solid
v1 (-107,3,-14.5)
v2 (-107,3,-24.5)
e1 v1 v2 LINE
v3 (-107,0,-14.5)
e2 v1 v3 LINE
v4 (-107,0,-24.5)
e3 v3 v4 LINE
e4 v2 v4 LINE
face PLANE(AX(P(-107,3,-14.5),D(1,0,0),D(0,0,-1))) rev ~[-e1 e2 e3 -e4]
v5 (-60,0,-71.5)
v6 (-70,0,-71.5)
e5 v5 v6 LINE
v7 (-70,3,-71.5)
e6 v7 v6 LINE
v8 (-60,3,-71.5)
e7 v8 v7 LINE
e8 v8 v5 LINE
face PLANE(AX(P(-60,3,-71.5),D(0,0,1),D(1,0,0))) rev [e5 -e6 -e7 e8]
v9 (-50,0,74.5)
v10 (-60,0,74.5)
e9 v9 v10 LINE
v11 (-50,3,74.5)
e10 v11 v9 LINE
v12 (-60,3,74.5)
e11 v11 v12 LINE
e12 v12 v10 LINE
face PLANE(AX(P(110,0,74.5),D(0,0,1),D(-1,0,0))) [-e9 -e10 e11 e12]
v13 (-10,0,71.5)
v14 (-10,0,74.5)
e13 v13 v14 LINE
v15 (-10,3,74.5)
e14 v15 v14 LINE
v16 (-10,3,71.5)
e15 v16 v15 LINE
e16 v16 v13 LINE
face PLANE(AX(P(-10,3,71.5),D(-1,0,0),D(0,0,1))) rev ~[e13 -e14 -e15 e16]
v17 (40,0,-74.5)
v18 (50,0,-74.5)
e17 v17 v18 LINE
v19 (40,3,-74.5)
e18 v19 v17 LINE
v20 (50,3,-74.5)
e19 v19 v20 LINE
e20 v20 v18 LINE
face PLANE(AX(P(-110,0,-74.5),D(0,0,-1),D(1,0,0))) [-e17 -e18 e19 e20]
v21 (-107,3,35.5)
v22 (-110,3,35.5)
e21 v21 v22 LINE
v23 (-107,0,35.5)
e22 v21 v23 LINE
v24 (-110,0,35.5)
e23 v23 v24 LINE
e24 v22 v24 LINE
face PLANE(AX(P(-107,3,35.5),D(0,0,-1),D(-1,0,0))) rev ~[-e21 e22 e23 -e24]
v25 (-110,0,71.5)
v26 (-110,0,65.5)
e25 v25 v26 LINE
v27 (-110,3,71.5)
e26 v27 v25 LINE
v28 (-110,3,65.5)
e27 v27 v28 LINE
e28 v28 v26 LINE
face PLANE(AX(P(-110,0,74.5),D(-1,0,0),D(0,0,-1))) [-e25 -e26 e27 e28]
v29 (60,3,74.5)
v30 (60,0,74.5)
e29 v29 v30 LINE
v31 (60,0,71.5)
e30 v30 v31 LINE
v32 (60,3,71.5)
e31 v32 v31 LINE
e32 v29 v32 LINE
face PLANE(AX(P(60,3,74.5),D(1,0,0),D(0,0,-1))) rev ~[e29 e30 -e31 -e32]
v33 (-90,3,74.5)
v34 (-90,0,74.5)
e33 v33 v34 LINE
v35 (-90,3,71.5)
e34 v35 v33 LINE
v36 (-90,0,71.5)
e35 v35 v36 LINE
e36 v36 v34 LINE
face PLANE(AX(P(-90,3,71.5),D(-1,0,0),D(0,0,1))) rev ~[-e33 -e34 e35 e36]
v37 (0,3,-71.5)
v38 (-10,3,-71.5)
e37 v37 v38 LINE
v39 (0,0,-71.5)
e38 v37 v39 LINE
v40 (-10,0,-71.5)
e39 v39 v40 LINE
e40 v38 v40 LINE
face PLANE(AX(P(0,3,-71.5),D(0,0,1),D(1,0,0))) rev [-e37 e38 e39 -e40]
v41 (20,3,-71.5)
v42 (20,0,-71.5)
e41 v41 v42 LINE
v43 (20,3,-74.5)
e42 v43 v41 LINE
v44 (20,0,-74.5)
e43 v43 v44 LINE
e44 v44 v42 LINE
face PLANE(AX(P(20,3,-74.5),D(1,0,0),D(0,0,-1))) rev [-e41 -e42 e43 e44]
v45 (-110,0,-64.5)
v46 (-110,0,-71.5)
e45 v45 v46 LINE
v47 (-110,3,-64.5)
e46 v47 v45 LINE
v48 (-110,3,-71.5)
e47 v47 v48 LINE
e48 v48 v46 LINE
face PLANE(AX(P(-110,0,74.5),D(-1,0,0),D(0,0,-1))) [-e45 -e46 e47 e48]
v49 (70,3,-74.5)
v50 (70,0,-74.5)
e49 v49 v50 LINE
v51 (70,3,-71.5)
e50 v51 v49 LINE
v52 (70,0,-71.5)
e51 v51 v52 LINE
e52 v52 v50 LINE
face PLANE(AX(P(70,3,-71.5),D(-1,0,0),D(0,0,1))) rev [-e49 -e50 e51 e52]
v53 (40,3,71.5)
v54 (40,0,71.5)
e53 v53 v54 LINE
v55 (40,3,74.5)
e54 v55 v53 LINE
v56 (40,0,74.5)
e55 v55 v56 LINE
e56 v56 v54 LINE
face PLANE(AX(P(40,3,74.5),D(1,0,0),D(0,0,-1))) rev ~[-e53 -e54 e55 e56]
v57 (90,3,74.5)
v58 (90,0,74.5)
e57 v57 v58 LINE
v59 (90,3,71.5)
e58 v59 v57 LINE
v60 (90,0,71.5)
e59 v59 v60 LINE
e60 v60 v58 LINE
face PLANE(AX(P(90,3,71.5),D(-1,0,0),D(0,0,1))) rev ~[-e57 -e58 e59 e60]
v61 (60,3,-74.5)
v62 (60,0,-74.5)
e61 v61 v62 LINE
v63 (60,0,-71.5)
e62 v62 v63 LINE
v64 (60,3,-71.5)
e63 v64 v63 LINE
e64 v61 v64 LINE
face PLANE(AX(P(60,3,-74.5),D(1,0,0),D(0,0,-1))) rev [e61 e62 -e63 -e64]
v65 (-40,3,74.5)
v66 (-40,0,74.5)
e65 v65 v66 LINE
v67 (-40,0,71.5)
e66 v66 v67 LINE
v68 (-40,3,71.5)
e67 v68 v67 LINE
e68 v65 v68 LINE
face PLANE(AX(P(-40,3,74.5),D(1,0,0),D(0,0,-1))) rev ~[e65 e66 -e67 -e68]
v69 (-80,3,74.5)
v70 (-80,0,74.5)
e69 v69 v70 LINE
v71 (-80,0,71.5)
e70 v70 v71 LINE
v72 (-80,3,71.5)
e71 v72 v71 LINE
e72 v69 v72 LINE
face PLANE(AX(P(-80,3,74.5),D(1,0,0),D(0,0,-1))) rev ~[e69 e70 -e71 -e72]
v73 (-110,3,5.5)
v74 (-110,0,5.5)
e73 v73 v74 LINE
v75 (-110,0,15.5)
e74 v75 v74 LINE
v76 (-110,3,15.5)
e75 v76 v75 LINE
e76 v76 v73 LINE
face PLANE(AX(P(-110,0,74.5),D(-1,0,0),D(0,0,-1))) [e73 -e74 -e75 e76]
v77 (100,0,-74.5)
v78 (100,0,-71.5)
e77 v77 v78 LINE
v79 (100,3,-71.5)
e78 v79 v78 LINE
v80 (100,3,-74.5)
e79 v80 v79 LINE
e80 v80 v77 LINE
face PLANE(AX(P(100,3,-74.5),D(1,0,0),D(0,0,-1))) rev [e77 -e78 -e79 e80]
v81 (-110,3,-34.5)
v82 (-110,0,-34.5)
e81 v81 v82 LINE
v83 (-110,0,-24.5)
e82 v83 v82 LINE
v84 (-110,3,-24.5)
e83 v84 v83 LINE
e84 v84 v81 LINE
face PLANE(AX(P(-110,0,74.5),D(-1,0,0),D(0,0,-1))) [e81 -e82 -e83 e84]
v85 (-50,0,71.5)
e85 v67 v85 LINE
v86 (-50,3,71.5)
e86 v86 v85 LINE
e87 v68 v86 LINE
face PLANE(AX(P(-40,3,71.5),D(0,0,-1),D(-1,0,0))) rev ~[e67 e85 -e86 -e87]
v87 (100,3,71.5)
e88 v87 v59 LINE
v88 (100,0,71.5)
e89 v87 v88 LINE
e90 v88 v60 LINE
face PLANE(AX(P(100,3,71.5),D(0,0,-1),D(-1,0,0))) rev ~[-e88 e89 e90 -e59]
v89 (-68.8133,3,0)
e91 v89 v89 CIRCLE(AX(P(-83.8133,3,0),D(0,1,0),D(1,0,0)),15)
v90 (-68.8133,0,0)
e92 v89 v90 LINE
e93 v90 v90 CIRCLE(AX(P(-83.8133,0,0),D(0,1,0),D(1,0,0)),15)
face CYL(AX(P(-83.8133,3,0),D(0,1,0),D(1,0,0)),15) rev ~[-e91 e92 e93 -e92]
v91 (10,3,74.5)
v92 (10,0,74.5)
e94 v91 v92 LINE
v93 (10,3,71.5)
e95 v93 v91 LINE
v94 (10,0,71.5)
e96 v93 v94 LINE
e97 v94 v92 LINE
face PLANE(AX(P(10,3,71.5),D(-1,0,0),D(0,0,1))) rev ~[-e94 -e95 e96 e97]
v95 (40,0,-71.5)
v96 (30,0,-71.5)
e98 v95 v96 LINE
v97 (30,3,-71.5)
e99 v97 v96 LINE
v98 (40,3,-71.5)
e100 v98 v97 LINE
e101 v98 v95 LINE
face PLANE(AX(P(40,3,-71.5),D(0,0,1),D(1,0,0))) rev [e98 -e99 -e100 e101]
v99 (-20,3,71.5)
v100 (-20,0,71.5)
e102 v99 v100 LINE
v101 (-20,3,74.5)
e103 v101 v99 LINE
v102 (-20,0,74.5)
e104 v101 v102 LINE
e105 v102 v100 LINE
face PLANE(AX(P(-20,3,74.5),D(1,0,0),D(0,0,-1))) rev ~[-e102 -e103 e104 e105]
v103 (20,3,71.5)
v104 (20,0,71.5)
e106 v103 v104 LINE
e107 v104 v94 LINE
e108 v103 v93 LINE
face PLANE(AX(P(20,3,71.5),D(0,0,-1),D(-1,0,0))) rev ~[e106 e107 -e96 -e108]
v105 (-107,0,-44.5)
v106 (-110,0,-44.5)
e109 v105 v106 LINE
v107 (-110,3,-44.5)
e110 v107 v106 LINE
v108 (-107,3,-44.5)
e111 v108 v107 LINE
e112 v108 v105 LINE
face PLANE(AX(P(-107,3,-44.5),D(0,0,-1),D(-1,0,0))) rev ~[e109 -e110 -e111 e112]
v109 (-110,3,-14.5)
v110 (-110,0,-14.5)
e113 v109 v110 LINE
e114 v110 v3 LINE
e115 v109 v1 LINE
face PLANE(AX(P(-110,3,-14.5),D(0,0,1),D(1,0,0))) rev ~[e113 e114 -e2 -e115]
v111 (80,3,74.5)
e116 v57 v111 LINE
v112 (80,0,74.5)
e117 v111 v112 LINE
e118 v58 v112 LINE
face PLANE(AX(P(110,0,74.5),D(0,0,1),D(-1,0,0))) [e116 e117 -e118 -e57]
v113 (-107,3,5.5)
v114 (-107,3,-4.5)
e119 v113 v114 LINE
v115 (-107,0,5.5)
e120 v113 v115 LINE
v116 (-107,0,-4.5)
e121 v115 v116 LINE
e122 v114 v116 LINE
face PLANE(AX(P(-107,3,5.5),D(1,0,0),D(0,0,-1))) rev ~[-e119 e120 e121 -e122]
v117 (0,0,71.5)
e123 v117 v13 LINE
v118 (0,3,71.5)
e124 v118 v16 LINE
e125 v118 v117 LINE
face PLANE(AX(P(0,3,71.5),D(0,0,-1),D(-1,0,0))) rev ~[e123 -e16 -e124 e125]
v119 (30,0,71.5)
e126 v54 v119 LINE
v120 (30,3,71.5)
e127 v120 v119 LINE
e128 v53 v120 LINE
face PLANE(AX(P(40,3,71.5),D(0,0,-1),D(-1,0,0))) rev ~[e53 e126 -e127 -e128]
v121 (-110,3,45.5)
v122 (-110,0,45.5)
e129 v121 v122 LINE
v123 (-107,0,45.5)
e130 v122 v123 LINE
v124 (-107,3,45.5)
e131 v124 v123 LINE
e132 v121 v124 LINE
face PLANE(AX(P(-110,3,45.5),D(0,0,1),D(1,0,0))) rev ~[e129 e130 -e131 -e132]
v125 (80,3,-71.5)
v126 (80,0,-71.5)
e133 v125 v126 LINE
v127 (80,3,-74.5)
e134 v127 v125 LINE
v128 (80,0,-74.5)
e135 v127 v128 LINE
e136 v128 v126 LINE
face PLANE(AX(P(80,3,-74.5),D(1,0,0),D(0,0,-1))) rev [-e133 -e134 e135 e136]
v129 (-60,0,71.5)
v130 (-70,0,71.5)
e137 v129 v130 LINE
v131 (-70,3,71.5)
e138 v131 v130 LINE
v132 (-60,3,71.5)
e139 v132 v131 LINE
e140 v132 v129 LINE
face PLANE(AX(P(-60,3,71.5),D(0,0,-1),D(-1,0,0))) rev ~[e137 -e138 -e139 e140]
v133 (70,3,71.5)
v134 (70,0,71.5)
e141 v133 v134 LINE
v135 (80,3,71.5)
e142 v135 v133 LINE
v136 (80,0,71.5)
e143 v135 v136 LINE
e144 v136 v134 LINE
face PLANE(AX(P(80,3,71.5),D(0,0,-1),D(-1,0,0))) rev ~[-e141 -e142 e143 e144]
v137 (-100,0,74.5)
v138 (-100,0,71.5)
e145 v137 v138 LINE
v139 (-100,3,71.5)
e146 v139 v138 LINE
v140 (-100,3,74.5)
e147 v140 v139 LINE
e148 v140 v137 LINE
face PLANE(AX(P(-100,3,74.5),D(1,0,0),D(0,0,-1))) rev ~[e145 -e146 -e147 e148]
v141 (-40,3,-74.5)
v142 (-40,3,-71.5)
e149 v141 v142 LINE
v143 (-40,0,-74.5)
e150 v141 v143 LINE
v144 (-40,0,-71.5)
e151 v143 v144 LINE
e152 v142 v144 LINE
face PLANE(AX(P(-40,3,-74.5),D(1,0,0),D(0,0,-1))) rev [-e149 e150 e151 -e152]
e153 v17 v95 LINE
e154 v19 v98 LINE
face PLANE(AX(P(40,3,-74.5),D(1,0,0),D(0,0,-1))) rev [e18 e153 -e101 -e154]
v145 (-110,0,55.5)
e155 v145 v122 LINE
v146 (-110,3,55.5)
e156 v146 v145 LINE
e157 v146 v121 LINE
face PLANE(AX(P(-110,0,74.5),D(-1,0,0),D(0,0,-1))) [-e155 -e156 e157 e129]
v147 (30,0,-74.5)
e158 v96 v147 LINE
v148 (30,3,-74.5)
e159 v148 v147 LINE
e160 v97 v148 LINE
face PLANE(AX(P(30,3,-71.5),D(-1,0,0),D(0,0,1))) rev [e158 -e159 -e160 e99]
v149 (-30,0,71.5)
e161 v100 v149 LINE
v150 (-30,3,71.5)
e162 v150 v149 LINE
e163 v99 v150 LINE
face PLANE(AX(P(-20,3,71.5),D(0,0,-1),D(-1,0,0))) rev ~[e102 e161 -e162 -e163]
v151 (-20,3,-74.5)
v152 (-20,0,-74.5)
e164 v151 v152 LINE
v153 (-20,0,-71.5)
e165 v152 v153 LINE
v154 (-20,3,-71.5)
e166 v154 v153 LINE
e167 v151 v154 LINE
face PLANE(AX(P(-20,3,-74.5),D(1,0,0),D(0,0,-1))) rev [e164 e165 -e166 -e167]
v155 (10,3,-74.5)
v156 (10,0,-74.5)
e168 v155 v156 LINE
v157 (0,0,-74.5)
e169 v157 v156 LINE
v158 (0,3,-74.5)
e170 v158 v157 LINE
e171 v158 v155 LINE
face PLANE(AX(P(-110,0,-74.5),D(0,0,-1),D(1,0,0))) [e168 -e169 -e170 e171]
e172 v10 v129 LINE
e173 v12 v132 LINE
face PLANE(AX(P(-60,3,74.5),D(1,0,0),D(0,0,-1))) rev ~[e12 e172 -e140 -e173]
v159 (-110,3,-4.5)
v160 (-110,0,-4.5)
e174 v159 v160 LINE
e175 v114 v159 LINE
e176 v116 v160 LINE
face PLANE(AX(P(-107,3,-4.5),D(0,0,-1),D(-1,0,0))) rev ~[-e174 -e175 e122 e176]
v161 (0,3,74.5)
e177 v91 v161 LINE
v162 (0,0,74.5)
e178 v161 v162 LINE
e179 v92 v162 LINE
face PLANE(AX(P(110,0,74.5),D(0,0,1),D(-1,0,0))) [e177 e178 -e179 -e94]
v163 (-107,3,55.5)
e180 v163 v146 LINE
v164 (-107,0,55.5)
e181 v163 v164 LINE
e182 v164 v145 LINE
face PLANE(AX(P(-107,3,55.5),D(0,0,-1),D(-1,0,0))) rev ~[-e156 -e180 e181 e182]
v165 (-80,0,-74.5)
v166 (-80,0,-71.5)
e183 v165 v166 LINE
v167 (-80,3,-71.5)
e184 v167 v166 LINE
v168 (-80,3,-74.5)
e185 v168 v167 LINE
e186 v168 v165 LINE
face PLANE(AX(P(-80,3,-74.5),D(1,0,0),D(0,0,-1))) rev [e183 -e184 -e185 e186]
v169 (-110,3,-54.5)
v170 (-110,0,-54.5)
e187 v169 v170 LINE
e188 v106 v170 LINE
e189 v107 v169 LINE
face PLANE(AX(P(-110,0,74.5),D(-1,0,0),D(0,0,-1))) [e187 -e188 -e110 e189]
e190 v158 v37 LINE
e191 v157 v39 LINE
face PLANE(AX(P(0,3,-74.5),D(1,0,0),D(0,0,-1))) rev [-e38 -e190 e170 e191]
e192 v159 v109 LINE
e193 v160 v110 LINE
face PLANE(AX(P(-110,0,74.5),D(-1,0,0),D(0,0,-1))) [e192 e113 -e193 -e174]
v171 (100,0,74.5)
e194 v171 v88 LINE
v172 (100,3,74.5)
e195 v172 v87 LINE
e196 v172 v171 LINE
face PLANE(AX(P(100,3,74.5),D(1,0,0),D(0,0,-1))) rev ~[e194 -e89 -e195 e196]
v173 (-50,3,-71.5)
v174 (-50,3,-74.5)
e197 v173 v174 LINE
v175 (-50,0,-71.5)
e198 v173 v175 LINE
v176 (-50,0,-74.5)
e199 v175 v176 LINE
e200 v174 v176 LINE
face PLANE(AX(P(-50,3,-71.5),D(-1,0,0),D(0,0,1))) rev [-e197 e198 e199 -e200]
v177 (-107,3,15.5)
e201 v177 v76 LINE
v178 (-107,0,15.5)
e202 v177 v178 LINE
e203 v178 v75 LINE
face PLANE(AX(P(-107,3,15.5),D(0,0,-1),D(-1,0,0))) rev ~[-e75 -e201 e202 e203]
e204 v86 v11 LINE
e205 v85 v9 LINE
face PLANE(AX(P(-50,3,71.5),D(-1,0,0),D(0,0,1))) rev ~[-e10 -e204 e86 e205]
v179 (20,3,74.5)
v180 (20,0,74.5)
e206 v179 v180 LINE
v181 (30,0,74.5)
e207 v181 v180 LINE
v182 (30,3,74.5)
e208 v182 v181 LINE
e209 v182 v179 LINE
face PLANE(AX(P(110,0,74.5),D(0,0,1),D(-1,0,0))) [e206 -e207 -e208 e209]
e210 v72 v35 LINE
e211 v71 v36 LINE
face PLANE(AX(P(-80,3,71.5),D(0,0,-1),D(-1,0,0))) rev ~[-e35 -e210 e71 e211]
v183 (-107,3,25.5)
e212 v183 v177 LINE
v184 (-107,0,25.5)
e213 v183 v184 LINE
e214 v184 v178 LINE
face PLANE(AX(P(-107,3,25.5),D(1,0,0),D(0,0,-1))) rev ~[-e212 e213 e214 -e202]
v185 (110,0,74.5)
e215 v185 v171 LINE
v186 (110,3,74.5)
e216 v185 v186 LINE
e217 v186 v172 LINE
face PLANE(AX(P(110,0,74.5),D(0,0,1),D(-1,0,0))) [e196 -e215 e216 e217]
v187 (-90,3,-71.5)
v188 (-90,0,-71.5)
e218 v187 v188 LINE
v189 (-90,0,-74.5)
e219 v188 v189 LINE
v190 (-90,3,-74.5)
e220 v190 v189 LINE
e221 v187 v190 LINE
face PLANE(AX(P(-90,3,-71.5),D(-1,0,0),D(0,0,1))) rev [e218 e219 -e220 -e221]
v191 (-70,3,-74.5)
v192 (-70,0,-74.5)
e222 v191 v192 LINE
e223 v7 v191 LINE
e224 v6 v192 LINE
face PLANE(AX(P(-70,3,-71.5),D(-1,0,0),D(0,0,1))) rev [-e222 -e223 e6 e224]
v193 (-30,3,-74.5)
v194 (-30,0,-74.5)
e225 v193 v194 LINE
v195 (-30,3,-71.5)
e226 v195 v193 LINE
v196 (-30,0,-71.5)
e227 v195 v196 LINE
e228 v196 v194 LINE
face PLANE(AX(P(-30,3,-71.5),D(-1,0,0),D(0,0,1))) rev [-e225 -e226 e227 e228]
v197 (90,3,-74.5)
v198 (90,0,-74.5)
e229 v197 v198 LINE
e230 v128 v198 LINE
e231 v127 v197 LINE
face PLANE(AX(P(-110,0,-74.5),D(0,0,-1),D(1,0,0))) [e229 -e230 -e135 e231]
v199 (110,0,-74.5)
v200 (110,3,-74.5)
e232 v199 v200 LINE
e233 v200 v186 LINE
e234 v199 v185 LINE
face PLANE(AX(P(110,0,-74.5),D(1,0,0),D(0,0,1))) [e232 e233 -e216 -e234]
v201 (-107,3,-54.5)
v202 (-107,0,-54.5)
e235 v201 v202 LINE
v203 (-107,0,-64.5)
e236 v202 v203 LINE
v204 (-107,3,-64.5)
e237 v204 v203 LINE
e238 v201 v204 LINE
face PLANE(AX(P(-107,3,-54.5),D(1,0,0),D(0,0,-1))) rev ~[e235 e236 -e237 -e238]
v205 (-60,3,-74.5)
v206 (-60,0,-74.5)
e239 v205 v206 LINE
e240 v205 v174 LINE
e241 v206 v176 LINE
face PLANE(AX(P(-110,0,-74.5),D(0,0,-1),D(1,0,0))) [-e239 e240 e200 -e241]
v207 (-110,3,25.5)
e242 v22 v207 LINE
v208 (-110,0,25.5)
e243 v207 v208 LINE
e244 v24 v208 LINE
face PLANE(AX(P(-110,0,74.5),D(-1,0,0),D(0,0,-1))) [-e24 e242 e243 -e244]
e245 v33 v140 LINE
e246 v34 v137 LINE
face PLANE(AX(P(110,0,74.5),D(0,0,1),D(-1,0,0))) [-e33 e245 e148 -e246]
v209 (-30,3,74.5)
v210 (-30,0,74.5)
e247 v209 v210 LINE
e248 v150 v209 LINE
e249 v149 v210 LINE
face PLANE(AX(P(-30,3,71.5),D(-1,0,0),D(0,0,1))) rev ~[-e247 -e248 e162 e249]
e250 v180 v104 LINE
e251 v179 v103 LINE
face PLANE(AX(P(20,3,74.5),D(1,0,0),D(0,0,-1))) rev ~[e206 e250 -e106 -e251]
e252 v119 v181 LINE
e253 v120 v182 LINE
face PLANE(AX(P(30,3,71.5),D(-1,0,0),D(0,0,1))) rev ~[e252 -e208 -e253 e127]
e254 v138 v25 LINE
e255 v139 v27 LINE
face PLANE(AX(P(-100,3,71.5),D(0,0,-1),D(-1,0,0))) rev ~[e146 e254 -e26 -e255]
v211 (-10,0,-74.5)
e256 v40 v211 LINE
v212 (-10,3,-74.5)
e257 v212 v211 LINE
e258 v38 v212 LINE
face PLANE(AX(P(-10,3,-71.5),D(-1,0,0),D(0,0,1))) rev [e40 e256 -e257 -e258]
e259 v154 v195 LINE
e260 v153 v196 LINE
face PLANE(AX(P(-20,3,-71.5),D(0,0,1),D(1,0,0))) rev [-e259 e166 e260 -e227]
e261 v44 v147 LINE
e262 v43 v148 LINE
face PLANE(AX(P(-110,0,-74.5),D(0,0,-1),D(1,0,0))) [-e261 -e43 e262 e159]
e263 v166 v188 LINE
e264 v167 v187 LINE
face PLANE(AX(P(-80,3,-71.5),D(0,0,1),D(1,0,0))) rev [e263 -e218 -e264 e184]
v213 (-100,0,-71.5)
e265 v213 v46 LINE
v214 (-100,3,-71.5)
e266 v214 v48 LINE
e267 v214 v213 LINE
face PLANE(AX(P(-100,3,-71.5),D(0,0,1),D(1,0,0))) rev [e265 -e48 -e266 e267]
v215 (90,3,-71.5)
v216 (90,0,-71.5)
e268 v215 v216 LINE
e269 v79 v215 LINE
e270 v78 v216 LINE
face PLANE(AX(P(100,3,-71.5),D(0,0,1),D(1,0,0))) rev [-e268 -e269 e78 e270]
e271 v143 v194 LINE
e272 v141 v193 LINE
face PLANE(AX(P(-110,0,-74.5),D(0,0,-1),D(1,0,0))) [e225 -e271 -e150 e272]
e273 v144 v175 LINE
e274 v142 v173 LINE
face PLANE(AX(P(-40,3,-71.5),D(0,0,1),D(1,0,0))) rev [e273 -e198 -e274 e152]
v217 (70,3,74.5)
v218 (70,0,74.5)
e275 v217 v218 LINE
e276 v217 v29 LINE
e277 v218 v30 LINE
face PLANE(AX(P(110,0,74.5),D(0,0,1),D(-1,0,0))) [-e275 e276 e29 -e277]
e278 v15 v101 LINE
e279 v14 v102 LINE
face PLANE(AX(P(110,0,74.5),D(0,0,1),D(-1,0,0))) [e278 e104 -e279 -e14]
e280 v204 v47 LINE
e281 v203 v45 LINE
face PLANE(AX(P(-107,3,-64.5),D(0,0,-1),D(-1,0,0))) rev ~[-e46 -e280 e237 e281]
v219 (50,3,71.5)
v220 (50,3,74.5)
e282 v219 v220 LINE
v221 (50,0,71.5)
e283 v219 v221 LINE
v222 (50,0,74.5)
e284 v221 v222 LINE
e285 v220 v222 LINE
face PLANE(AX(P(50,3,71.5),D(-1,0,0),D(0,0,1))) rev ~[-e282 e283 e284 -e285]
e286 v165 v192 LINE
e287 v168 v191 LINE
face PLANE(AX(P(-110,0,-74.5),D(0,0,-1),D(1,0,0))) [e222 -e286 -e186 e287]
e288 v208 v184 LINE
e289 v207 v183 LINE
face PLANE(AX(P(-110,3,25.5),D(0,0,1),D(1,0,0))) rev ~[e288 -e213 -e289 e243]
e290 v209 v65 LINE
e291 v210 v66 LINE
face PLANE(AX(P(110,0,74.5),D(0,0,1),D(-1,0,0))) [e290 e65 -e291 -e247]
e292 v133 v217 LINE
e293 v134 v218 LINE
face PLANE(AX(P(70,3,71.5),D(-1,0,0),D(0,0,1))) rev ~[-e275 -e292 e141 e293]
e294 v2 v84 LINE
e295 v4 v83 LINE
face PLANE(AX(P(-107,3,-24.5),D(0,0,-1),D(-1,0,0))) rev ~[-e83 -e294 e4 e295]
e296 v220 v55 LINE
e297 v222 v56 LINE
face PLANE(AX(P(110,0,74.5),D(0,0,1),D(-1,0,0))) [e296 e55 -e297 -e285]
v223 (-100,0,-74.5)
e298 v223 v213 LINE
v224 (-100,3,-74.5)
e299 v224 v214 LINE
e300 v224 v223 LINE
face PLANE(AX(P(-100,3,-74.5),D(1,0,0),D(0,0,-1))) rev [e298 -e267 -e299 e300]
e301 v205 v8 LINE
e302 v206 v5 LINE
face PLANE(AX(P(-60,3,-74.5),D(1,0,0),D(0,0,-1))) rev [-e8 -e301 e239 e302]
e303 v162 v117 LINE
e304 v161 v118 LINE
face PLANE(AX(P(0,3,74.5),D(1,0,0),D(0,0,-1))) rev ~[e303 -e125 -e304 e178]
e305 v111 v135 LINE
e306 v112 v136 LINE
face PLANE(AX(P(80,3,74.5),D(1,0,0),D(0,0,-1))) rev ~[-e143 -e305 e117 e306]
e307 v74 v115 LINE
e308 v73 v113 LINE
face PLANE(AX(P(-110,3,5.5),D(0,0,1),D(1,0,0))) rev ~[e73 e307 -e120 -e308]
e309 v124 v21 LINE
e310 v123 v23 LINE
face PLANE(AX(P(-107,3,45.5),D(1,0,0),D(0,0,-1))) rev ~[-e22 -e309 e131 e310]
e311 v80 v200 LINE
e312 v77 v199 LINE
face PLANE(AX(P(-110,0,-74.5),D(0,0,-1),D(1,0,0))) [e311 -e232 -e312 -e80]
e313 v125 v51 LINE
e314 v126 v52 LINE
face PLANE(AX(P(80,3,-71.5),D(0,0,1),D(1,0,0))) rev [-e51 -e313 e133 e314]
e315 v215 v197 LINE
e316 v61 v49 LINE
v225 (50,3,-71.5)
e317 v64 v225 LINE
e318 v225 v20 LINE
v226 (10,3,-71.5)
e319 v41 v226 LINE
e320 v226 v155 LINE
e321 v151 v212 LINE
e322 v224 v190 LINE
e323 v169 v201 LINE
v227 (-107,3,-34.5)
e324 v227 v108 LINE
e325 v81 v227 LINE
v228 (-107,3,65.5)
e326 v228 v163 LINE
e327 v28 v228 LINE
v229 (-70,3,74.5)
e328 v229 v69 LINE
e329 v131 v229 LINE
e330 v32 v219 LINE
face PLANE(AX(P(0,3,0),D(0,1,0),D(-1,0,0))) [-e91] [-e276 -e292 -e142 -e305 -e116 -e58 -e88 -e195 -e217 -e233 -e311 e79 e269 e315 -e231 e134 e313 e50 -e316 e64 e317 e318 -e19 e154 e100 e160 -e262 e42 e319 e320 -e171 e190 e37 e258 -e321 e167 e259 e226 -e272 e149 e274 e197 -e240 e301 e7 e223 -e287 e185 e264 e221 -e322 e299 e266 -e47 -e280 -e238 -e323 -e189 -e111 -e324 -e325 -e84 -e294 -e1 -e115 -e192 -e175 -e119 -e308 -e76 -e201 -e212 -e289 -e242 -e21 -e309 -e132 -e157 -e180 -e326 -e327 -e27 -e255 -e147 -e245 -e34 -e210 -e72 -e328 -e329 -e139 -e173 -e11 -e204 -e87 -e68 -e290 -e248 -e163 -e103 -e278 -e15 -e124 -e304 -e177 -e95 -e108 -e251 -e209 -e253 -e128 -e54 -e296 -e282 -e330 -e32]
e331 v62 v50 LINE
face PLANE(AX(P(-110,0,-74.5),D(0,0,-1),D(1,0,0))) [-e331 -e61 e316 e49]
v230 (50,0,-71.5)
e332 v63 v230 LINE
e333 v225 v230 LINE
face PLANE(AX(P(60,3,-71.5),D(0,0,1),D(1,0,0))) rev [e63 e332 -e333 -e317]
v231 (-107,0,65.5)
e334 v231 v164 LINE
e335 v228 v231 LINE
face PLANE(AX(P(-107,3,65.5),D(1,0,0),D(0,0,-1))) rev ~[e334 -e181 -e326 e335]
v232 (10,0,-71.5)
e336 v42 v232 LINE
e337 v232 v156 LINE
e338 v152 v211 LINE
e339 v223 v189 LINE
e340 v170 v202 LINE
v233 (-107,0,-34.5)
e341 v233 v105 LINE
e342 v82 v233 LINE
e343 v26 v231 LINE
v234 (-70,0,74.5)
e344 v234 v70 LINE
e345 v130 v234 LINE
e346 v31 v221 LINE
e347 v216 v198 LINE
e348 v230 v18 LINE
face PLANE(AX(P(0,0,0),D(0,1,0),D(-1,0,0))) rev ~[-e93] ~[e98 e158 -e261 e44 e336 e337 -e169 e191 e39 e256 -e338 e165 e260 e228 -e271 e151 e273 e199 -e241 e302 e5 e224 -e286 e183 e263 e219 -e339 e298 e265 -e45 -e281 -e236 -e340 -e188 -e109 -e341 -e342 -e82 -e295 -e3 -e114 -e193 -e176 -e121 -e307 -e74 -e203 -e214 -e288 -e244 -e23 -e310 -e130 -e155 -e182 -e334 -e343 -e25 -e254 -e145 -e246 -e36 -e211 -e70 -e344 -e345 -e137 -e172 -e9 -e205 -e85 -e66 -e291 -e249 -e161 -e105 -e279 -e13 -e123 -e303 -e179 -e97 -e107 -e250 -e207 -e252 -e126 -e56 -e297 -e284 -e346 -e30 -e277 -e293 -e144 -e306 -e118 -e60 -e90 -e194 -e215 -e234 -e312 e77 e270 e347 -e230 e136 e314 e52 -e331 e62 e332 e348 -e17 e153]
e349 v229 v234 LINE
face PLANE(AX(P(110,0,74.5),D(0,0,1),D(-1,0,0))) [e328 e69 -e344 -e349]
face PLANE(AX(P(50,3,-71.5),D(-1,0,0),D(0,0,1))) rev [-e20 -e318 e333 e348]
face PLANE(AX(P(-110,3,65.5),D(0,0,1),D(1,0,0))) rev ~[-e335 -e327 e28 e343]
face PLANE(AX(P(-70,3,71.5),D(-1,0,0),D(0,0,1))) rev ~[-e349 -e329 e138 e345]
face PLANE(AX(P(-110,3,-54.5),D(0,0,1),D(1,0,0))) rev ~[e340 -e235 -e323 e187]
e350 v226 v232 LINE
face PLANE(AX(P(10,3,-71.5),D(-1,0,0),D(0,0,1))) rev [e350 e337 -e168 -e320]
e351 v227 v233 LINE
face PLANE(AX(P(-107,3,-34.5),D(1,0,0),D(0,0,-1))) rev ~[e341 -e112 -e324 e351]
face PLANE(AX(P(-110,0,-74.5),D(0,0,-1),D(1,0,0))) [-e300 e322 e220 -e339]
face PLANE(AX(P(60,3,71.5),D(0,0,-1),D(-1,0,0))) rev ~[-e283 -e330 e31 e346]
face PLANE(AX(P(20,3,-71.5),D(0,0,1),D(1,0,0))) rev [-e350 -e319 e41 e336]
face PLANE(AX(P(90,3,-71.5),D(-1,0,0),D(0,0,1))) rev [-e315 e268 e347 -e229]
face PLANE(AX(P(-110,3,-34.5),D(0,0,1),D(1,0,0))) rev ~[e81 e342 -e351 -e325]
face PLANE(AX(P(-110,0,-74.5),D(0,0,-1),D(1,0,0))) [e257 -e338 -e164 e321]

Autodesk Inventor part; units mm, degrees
ref_plane "YZ Plane" through (0, 0, 0) normal (1, 0, 0) x (0, 1, 0)
ref_plane "XZ Plane" through (0, 0, 0) normal (0, 1, 0) x (-1, 0, 0)
ref_plane "XY Plane" through (0, 0, 0) normal (0, 0, 1) x (1, 0, 0)
sketch "Эскиз5" plane through (0, 0, 0) normal (0, 1, 0) x (-1, 0, 0)
  line L0 (-110, 74.5) -> (110, 74.5)
  line L1 (110, 74.5) -> (110, -74.5)
  line L2 (110, -74.5) -> (-110, -74.5)
  line L3 (-110, -74.5) -> (-110, 74.5)
  line L4 (-110, 74.5) -> (110, -74.5) construction
  line L5 (110, 74.5) -> (-110, -74.5) construction
  point P0 (0, 0)
  dimension "d25" = 220
  dimension "d26" = 149
extrude "Выдавливание5" add sketch "Эскиз5" along normal blind 3
sketch "Эскиз6" plane through (0, 3, 0) normal (0, 1, 0) x (1, 0, 0)
  line L0 (-110, 74.5) -> (-110, -74.5) projected
  line L1 (-110, -65.5) -> (-107, -65.5)
  line L2 (-107, -65.5) -> (-107, -55.5)
  line L3 (-107, -55.5) -> (-110, -55.5)
  line L4 (-110, -55.5) -> (-110, -65.5)
  line L5 (-110, -74.5) -> (110, -74.5) projected
  point P0 (0, 0)
  point P1 (-107, -74.5)
  point P2 (-110, -65.5)
  dimension "d29" = 3
  dimension "d30" = 10
  dimension "d46" = 9
extrude "Выдавливание6" cut sketch "Эскиз6" against normal blind 3
pattern_linear "Прямоуг.массив6" count 7 spacing 20 along (0, 0, -1) of "Выдавливание6"
sketch "Эскиз8" plane through (0, 3, 0) normal (0, 1, 0) x (1, 0, 0)
  line L0 (-110, -74.5) -> (110, -74.5) projected
  line L1 (-110, -74.5) -> (-100, -74.5)
  line L2 (-100, -74.5) -> (-100, -71.5)
  line L3 (-100, -71.5) -> (-110, -71.5)
  line L4 (-110, -71.5) -> (-110, -74.5)
  line L5 (-107, -55.5) -> (-107, -65.5) projected
  point P0 (0, 0)
  dimension "d50" = 3
  dimension "d51" = 10
  dimension "d52" = 3
extrude "Выдавливание8" cut sketch "Эскиз8" against normal blind 3
pattern_linear "Прямоуг.массив7" count 11 spacing 20 along (1, 0, 0) of "Выдавливание8"
mirror "Зеркальное отражение2" about plane through (0, 0, 0) normal (0, 0, 1) of "Выдавливание8", "Прямоуг.массив7"
sketch "Эскиз9" plane through (0, 3, 0) normal (0, 1, 0) x (1, 0, 0)
  circle A0 centre (-83.8133, 0) radius 15
  point P0 (0, 0)
  dimension "d58" = 30
extrude "Выдавливание9" cut sketch "Эскиз9" against normal blind 3
properties part number "000.104 - Cap"
